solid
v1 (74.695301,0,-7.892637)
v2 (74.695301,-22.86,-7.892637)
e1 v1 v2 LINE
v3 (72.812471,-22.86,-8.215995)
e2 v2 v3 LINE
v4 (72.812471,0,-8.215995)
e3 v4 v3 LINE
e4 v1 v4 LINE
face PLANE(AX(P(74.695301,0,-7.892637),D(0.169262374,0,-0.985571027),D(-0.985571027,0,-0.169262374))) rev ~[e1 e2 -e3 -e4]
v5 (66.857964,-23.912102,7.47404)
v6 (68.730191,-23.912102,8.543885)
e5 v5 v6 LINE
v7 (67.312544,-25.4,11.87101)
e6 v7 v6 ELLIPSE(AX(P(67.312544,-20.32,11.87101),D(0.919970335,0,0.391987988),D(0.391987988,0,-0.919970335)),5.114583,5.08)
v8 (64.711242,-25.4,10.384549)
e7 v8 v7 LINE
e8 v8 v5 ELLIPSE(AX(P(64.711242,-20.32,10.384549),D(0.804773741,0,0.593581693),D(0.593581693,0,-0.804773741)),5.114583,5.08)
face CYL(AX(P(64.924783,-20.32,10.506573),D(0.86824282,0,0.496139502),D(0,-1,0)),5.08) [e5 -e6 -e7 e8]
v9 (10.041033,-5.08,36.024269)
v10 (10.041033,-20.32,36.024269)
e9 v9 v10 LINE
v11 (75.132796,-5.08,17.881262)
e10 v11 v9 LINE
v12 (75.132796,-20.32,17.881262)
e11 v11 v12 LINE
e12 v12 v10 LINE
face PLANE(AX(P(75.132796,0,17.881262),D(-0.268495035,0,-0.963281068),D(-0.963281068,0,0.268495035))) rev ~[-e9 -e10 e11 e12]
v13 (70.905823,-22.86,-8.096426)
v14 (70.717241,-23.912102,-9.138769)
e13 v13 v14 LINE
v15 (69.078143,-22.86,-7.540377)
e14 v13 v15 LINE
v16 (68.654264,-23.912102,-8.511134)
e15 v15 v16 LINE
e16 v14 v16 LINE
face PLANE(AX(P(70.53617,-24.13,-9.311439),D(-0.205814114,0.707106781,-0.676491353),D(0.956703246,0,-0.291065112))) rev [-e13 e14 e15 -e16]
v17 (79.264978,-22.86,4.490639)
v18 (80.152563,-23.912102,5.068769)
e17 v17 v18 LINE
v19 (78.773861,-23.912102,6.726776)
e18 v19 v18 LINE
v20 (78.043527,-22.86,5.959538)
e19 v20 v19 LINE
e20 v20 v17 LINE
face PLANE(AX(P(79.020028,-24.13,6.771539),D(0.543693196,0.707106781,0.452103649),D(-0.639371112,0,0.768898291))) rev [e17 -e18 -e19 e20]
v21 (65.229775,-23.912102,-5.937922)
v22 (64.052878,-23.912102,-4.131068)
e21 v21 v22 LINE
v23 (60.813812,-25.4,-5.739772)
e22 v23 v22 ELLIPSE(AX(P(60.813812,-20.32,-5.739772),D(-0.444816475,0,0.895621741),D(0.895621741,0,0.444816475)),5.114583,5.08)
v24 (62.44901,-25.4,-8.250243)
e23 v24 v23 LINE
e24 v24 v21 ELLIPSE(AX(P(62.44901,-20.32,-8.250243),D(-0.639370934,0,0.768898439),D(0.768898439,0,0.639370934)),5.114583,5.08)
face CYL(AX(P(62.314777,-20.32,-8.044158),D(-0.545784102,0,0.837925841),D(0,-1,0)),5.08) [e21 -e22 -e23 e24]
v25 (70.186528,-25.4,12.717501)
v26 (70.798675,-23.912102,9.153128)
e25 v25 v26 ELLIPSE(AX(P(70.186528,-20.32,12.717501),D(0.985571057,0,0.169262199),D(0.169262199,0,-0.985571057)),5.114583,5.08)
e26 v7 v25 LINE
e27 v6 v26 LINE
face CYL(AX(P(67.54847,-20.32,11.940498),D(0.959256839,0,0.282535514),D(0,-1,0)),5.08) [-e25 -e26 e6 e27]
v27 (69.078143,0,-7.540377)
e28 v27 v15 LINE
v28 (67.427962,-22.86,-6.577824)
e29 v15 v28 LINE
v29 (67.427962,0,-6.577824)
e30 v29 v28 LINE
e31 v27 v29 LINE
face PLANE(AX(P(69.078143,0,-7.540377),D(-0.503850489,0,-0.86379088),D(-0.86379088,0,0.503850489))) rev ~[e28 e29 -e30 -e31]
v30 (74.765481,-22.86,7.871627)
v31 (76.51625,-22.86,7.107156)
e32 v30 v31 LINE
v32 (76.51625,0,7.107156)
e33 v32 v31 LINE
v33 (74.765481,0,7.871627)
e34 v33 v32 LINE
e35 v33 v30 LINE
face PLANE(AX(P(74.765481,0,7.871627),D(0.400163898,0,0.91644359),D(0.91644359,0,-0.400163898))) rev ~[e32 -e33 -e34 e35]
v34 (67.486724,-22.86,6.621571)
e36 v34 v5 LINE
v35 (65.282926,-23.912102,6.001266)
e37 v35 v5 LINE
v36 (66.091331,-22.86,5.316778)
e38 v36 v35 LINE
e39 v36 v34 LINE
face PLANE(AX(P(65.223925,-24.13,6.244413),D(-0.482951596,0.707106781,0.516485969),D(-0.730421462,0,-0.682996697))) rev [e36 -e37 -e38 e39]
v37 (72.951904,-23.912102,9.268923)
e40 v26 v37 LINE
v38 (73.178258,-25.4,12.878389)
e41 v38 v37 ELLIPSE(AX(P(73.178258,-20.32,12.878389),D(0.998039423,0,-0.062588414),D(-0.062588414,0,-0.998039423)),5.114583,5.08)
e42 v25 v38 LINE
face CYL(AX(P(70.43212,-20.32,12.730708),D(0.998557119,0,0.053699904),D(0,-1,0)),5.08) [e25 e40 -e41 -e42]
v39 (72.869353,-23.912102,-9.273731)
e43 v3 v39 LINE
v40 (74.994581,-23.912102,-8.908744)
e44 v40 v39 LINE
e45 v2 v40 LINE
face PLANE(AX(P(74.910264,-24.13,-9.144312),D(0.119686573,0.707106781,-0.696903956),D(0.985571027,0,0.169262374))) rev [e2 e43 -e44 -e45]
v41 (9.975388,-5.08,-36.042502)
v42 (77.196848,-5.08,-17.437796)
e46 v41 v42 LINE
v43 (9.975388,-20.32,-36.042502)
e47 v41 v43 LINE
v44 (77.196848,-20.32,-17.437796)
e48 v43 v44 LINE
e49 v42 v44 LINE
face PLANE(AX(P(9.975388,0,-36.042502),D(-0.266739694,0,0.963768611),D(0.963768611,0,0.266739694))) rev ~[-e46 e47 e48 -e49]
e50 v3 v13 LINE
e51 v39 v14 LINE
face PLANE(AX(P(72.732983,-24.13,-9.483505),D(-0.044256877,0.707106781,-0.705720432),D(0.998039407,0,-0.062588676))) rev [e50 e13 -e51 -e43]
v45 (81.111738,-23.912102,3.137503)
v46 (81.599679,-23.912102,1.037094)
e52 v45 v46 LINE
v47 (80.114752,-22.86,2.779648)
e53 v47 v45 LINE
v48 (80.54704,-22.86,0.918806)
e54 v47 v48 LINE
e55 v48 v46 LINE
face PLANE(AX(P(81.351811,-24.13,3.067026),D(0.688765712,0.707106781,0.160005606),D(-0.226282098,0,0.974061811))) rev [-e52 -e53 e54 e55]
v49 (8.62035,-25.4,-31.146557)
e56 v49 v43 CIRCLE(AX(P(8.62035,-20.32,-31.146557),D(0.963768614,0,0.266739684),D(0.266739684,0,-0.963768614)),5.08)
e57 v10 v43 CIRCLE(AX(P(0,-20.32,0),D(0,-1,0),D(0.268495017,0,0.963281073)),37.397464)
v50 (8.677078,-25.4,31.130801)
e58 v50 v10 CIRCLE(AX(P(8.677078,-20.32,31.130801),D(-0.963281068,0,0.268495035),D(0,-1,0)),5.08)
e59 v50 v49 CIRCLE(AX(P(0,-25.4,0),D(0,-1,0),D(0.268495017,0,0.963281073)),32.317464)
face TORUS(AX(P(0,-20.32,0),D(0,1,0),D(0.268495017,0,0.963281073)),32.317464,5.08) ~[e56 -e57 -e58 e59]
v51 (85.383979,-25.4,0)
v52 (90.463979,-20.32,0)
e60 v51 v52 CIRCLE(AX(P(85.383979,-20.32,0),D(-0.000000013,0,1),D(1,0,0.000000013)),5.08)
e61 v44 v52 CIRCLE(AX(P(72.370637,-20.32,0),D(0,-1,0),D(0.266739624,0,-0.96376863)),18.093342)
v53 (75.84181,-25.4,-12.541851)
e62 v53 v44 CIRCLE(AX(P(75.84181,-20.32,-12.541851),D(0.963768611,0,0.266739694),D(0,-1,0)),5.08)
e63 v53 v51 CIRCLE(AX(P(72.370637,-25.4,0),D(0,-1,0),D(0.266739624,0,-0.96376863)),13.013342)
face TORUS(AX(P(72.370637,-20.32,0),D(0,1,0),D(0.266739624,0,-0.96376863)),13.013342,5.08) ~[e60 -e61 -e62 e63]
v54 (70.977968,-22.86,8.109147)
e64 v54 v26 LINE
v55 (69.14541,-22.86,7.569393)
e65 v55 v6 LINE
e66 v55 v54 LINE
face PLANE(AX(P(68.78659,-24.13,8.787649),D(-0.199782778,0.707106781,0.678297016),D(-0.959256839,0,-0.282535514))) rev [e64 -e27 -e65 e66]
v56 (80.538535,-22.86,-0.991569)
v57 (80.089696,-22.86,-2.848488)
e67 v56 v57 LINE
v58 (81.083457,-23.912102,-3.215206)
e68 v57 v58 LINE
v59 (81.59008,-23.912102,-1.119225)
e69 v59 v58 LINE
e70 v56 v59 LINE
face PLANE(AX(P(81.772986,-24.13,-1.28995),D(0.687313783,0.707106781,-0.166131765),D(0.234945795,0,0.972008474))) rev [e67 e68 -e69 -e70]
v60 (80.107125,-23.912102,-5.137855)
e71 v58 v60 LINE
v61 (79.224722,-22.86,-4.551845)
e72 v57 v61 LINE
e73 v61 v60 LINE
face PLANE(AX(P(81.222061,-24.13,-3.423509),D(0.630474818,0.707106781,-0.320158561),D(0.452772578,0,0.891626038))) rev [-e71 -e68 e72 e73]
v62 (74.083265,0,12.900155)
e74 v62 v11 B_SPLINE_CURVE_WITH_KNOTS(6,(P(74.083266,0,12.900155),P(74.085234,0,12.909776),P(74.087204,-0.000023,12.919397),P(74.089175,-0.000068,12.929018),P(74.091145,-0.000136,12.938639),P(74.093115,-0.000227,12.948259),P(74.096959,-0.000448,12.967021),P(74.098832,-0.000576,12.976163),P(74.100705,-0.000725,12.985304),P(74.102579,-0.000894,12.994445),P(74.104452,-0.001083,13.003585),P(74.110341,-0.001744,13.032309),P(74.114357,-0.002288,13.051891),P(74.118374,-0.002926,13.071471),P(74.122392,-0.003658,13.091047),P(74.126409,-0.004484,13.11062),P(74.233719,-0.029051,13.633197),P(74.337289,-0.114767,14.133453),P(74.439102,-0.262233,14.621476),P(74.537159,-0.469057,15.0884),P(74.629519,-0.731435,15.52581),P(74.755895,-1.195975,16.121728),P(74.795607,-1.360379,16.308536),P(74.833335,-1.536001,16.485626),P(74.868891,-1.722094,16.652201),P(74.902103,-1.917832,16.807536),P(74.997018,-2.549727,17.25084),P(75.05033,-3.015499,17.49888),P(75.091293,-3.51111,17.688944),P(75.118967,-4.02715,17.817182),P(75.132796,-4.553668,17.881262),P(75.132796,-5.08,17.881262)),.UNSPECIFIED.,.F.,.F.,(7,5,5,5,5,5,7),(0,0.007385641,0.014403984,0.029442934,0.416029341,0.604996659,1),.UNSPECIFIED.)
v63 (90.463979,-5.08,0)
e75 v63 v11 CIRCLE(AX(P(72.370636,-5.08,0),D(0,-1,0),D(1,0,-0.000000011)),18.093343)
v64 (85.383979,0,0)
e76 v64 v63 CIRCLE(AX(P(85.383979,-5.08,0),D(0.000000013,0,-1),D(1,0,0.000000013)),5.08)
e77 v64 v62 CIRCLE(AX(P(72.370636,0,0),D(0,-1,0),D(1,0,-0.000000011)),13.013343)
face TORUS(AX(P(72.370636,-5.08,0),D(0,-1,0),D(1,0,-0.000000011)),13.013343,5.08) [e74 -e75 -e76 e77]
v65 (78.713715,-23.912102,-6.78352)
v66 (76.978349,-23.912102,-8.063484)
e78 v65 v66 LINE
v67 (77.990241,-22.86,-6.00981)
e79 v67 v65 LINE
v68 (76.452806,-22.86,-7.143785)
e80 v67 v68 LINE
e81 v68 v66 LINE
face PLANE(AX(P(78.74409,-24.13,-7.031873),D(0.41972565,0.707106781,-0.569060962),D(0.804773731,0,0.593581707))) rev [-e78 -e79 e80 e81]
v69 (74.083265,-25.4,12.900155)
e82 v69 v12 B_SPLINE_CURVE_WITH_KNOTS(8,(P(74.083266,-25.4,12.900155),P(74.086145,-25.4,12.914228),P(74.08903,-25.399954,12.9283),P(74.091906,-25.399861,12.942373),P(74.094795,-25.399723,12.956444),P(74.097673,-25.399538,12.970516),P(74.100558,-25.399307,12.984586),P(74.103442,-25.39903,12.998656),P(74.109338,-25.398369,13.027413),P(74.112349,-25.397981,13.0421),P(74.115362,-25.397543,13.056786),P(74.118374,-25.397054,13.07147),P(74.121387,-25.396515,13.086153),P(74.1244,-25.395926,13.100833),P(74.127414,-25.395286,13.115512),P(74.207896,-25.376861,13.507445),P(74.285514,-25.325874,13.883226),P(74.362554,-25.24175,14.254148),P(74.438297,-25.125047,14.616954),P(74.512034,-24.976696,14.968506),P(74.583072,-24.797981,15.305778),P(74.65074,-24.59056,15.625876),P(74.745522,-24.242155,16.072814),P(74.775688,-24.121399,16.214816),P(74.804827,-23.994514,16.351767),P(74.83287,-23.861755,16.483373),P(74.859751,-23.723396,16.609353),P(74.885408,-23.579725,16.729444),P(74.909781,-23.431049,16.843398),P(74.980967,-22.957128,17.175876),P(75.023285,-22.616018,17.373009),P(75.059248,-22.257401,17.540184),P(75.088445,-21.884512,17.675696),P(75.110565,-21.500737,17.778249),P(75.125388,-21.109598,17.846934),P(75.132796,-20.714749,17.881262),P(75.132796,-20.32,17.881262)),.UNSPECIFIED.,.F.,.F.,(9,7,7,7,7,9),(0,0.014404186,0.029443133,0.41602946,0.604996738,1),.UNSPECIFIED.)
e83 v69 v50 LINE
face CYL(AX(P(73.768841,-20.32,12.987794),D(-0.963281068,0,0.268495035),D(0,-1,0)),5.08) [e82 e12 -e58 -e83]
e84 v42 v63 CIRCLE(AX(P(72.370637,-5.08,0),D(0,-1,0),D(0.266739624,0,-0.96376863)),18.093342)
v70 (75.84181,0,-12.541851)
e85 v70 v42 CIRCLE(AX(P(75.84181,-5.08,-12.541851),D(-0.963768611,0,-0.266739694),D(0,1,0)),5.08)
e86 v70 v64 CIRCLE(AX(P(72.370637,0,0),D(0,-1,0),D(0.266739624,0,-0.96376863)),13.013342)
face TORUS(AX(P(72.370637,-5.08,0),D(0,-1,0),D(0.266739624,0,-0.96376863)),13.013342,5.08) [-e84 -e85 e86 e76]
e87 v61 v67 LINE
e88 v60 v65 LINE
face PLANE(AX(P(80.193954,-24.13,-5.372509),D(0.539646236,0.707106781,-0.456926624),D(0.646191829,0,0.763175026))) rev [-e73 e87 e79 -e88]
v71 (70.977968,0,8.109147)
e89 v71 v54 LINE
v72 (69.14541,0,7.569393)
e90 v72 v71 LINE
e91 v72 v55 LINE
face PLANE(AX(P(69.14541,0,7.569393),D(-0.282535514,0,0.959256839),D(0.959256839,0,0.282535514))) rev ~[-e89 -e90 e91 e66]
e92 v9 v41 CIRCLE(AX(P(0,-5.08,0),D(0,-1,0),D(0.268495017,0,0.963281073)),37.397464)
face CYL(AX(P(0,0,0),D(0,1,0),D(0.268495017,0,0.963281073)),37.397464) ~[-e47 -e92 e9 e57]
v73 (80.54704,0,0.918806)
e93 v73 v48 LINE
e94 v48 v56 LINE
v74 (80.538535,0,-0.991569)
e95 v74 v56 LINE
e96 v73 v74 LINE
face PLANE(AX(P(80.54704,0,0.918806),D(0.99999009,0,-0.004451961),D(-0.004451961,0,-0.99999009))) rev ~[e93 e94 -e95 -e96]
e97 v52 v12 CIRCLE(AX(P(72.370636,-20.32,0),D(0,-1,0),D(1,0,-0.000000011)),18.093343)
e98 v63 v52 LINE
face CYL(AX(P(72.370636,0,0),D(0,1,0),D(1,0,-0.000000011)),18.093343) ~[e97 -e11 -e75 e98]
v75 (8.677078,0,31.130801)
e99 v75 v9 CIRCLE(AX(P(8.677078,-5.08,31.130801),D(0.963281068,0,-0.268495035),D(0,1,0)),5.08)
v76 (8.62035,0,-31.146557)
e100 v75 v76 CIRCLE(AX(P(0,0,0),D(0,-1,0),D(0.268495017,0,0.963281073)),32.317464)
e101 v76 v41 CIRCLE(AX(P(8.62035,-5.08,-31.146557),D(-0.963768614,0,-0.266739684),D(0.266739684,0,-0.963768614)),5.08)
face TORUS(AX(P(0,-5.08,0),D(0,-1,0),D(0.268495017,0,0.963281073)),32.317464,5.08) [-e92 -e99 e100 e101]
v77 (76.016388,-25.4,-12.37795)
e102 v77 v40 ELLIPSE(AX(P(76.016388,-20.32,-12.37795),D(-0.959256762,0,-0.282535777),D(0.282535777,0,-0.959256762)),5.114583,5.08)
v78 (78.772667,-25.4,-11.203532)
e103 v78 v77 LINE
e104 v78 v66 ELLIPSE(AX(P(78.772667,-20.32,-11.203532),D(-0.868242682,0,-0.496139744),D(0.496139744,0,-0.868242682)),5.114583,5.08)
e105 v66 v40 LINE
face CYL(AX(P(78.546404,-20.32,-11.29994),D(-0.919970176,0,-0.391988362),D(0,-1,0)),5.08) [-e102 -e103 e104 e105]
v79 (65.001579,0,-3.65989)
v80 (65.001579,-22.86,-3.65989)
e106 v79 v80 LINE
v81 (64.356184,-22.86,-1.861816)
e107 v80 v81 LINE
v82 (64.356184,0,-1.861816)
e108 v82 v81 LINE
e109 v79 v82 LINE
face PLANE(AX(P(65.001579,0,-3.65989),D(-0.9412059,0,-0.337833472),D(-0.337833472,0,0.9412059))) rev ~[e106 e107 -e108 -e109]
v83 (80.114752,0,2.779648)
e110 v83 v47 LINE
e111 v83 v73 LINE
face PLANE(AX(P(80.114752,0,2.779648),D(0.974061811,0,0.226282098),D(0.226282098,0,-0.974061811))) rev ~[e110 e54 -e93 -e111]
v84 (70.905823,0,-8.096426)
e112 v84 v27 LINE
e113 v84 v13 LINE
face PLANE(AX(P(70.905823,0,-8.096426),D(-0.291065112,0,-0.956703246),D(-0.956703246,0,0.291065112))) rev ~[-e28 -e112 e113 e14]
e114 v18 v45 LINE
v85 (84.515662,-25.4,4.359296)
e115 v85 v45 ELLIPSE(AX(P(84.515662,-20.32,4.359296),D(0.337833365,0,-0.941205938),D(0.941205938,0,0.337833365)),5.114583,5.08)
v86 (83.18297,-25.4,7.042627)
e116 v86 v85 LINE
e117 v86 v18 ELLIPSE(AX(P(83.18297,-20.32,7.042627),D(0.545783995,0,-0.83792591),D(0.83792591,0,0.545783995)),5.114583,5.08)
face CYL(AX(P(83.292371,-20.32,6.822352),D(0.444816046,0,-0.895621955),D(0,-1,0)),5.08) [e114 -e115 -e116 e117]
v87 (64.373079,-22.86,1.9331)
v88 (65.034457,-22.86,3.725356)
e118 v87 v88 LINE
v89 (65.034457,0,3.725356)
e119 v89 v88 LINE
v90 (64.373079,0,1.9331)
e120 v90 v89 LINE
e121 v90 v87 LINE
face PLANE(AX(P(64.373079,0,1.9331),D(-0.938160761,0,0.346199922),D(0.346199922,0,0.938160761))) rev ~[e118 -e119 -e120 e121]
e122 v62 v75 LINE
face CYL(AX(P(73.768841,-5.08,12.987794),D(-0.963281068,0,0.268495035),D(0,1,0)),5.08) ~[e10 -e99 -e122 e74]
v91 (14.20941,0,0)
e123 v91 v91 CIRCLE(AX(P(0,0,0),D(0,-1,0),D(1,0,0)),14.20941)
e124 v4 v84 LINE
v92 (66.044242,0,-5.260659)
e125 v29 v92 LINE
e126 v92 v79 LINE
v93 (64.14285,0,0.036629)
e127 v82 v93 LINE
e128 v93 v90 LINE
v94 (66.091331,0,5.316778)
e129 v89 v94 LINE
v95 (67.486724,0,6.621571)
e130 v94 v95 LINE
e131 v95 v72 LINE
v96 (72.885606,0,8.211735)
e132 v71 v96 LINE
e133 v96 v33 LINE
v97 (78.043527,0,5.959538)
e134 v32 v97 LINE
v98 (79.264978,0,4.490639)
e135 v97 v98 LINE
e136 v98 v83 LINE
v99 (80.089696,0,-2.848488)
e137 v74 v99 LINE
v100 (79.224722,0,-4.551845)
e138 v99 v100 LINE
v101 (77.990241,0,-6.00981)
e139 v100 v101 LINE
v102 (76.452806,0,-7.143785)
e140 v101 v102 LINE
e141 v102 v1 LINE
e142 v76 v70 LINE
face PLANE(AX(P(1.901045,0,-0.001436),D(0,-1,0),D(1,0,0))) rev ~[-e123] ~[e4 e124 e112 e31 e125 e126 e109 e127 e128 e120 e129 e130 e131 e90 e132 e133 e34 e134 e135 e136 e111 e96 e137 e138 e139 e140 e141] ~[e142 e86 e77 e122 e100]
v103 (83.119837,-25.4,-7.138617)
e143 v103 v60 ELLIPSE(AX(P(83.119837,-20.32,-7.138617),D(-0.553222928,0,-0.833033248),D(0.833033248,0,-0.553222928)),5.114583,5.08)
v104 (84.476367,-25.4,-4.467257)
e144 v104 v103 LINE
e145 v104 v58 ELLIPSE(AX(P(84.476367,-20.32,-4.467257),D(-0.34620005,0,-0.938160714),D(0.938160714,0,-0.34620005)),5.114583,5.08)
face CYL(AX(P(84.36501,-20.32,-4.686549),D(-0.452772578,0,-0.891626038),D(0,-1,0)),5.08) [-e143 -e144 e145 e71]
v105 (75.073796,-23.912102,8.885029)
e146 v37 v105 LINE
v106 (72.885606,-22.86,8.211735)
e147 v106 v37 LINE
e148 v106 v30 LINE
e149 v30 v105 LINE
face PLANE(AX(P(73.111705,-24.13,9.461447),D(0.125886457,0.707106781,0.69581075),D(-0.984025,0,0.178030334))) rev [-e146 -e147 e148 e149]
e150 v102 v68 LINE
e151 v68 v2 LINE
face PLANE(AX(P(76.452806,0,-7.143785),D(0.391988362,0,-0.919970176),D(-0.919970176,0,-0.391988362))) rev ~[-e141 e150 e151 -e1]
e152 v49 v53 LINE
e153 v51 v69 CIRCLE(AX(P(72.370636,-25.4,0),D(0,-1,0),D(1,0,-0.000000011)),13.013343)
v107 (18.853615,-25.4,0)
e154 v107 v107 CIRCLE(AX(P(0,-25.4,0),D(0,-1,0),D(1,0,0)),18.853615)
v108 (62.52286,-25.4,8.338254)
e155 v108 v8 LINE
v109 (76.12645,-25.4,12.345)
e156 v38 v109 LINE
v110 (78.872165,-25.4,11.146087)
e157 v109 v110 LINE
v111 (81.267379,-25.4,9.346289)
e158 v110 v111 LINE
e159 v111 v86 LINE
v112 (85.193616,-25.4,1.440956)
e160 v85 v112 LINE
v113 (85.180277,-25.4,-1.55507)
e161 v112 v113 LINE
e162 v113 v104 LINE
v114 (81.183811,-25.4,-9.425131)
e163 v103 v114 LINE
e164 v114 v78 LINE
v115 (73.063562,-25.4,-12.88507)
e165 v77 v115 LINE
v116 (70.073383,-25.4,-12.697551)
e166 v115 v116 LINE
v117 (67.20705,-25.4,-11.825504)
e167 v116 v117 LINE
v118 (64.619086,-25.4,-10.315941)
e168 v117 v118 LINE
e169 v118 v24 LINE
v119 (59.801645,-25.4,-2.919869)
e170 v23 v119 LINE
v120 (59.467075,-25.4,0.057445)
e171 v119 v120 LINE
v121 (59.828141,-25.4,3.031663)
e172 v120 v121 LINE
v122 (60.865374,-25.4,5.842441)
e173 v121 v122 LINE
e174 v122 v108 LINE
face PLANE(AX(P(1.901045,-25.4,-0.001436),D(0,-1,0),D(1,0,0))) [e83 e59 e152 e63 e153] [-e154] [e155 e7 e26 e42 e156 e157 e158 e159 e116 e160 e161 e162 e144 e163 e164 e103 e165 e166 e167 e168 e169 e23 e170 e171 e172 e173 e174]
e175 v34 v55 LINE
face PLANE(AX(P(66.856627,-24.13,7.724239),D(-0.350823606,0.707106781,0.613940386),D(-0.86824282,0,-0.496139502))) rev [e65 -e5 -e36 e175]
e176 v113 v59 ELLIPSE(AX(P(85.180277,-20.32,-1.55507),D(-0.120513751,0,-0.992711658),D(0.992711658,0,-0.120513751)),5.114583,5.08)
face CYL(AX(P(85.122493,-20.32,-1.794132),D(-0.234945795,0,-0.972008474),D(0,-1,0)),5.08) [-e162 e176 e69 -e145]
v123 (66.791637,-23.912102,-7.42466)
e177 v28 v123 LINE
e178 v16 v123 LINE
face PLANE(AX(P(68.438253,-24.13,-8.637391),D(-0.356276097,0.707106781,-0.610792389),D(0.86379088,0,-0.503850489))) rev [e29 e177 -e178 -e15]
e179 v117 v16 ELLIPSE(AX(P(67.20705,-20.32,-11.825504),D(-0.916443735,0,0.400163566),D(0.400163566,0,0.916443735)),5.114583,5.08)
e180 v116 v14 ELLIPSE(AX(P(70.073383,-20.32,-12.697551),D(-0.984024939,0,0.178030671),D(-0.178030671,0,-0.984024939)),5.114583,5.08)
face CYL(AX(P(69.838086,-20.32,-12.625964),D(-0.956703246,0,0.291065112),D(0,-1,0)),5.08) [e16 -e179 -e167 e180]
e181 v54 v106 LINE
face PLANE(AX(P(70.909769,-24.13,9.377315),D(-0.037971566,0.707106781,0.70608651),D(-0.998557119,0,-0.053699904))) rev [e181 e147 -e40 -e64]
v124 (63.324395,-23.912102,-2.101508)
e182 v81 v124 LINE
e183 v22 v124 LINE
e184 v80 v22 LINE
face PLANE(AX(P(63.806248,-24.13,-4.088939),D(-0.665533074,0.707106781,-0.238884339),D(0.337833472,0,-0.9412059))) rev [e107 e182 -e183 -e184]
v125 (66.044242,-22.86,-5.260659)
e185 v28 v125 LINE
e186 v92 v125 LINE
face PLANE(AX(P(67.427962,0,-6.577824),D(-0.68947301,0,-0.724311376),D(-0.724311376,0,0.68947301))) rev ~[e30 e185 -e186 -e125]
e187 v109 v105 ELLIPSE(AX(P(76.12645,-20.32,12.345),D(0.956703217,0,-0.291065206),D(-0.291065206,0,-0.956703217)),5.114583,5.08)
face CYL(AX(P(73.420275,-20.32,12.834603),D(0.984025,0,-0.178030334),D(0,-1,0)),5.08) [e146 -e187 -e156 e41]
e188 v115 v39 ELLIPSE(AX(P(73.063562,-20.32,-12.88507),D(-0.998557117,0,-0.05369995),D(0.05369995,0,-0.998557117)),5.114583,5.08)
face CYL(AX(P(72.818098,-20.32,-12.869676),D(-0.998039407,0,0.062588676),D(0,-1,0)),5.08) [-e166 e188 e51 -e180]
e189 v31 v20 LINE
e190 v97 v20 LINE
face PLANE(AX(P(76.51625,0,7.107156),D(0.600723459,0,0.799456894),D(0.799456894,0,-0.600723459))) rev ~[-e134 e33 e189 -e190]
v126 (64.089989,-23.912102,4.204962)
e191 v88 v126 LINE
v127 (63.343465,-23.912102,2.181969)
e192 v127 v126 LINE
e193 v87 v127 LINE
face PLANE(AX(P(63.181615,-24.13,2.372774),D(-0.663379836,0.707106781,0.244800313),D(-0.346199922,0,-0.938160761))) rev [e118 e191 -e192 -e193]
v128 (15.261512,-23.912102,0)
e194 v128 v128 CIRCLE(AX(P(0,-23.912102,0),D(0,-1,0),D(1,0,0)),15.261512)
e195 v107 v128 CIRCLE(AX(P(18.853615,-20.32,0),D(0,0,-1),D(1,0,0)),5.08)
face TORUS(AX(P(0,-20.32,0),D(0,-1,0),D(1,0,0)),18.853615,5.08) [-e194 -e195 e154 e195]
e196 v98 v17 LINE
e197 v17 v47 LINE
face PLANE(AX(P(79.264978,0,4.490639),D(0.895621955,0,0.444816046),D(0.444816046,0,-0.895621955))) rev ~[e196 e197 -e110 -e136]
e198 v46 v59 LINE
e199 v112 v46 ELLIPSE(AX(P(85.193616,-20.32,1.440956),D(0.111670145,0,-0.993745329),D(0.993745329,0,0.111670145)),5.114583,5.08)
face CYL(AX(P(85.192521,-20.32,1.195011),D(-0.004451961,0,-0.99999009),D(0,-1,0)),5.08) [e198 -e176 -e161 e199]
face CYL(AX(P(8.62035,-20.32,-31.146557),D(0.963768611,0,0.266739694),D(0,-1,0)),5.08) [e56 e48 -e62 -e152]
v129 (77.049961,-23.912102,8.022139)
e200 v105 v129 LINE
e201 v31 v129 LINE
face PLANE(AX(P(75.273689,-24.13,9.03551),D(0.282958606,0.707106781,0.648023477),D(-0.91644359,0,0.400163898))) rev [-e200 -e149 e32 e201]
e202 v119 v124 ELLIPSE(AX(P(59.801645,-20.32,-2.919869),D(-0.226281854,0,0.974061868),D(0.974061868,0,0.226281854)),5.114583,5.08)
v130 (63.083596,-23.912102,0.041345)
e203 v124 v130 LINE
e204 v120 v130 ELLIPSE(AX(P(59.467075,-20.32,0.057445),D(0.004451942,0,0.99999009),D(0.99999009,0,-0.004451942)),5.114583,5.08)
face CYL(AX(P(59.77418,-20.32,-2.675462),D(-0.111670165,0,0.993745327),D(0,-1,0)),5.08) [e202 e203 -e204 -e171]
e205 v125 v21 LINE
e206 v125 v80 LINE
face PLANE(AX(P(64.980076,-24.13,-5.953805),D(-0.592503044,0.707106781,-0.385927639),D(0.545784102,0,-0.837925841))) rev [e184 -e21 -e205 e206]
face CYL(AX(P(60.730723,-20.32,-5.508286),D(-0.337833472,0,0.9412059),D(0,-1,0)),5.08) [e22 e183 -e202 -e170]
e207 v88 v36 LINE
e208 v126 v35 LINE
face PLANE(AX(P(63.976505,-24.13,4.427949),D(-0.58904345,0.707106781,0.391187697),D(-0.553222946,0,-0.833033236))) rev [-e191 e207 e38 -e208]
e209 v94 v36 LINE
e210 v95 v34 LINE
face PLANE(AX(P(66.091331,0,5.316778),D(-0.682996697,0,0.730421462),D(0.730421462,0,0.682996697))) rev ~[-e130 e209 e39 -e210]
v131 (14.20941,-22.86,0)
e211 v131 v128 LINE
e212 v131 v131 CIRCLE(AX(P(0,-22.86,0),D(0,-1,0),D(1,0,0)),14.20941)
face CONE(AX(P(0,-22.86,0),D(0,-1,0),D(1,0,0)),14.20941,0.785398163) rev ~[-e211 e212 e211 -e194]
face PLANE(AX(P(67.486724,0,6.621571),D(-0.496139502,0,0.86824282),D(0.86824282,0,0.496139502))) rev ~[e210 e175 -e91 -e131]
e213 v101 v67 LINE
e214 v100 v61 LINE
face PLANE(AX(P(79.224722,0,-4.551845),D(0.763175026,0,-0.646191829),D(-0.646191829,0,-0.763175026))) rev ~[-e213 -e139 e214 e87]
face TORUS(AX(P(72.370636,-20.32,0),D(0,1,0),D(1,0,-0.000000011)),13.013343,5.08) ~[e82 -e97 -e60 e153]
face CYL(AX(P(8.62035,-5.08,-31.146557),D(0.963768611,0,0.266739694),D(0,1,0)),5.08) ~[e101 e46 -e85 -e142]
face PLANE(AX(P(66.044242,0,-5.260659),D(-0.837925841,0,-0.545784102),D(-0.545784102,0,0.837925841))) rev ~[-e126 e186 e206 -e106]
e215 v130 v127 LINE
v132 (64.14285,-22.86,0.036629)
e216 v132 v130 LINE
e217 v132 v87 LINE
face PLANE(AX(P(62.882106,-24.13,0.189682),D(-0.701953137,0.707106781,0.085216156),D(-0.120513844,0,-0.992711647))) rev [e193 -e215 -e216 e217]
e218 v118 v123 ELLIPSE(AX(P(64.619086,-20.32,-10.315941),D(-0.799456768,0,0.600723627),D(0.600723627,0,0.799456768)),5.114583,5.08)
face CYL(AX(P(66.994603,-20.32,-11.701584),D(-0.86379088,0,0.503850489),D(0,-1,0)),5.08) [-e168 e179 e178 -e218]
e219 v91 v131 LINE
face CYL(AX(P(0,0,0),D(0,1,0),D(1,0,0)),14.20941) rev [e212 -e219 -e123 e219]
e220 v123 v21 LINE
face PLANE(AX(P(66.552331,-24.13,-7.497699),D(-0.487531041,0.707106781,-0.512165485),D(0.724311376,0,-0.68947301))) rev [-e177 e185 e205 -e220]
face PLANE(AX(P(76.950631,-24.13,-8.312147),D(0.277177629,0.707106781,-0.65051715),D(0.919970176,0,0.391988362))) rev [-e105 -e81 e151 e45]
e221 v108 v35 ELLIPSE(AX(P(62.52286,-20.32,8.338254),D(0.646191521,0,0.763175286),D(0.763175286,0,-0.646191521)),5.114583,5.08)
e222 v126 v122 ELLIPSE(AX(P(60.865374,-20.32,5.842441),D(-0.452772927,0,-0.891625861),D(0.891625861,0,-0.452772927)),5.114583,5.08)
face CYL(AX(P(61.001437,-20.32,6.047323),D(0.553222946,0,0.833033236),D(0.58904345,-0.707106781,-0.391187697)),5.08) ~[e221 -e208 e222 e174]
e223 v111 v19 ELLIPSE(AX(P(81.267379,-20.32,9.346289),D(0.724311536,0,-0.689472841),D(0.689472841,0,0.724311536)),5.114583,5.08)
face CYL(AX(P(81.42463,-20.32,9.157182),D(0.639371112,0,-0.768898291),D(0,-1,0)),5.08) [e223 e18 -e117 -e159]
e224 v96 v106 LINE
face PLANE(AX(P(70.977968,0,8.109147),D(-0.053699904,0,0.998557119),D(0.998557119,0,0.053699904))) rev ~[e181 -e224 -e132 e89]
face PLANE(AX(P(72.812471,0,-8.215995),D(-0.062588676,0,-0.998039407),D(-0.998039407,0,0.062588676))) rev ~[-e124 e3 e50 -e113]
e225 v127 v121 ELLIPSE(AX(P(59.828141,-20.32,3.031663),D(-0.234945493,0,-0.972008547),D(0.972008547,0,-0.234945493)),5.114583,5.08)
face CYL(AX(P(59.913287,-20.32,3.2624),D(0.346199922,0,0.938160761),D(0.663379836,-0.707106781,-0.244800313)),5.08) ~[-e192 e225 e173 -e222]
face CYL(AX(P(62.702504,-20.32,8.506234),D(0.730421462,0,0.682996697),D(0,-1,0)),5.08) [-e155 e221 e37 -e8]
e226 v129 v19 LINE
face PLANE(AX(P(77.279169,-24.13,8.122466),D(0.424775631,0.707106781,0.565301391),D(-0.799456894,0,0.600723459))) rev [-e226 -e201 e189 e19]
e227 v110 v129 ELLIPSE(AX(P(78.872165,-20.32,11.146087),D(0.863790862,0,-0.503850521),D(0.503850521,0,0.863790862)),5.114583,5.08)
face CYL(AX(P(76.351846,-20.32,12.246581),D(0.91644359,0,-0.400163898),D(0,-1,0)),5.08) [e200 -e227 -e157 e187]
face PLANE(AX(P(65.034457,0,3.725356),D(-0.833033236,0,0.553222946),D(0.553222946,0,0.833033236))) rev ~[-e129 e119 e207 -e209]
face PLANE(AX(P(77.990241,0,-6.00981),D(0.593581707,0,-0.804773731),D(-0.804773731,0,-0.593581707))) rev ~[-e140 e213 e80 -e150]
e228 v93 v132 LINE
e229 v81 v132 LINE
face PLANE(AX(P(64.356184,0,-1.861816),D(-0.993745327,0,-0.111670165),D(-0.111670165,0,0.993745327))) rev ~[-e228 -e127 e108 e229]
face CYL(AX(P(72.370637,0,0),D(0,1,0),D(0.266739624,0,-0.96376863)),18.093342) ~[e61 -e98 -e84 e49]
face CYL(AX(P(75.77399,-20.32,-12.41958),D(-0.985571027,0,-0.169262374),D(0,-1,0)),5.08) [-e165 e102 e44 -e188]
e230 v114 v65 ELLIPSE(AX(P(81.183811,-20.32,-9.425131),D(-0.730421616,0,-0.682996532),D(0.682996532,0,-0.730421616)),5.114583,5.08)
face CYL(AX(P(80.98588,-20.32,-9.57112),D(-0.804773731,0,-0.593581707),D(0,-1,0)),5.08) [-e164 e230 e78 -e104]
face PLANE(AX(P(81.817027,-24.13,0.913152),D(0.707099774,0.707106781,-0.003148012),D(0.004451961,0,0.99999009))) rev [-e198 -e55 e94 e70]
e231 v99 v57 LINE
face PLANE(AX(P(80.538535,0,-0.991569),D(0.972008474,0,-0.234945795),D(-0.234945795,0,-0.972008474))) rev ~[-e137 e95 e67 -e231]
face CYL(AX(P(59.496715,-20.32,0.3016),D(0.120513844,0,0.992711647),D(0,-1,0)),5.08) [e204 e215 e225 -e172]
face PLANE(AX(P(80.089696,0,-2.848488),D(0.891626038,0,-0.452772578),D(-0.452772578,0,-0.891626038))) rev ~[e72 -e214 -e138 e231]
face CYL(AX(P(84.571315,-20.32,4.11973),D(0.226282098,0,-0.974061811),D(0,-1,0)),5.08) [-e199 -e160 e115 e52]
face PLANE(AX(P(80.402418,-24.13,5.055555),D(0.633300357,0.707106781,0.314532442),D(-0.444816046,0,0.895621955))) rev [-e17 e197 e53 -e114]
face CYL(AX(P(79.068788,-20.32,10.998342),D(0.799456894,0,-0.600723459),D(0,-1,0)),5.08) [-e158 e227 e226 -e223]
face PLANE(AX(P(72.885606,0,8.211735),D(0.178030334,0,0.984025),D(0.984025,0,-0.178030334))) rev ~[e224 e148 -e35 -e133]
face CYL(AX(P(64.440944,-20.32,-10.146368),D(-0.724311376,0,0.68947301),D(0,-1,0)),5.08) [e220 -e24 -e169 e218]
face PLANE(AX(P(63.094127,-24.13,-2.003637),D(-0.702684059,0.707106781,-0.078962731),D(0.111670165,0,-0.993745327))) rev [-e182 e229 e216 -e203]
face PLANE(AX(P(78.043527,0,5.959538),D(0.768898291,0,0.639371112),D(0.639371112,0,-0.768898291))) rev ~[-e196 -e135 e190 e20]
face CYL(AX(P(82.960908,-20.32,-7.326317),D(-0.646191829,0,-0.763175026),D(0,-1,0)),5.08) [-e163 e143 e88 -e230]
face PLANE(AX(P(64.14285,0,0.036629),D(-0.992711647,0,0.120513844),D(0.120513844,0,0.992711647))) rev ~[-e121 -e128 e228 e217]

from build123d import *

# Parameters (mm, degrees)
F0_R     = 14.20941
F1_DEPTH = 25.4
F2_SIZE  = 2.54
F3_R     = 5.08


with BuildPart() as f1:
    # F0 (on Front) → F1 (new body)
    with BuildSketch(Plane.XZ):
        with BuildLine():
            ThreePointArc((9.975388, -36.042502), (29.762598, -22.644161), (37.397464, 0))
            ThreePointArc((37.397464, 0), (29.783212, 22.617041), (10.041033, 36.024269))
            ThreePointArc((10.041033, 36.024269), (-37.397448, 0.034065), (9.975388, -36.042502))
        make_face()
        Circle(F0_R, mode=Mode.SUBTRACT)
        with BuildLine():
            ThreePointArc((10.041033, 36.024269), (29.783212, 22.617041), (37.397464, 0))
            ThreePointArc((37.397464, 0), (29.762598, -22.644161), (9.975388, -36.042502))
            Line((9.975388, -36.042502), (77.196848, -17.437796))
            ThreePointArc((77.196848, -17.437796), (54.30811, -1.055577), (75.132796, 17.881262))
            Line((75.132796, 17.881262), (10.041033, 36.024269))
        make_face()
        with BuildLine():
            ThreePointArc((90.463979, 0), (86.106461, 11.776934), (75.132796, 17.881262))
            ThreePointArc((75.132796, 17.881262), (54.30811, -1.055577), (77.196848, -17.437796))
            ThreePointArc((77.196848, -17.437796), (86.770139, -10.955518), (90.463979, 0))
        make_face()
        Polygon((66.091331, 5.316778), (67.486724, 6.621571), (69.14541, 7.569393), (70.977968, 8.109147), (72.885606, 8.211735), (74.765481, 7.871627), (76.51625, 7.107156), (78.043527, 5.959538), (79.264978, 4.490639), (80.114752, 2.779648), (80.54704, 0.918806), (80.538535, -0.991569), (80.089696, -2.848488), (79.224722, -4.551845), (77.990241, -6.00981), (76.452806, -7.143785), (74.695301, -7.892637), (72.812471, -8.215995), (70.905823, -8.096426), (69.078143, -7.540377), (67.427962, -6.577824), (66.044242, -5.260659), (65.001579, -3.65989), (64.356184, -1.861816), (64.14285, 0.036629), (64.373079, 1.9331), (65.034457, 3.725356), align=None, mode=Mode.SUBTRACT)
    extrude(amount=F1_DEPTH)

    # F2
    f2_edges = [f1.edges().sort_by_distance(p)[0] for p in [
        (-14.20941, -25.4, 0),
        (75.640865, -25.4, 7.489391),
        (78.607481, -25.4, -5.280828),
        (65.52291, -25.4, -4.460275),
        (77.279888, -25.4, 6.533347),
        (77.221524, -25.4, -6.576798),
        (64.678881, -25.4, -2.760853),
        (78.654252, -25.4, 5.225088),
        (75.574053, -25.4, -7.518211),
        (64.249517, -25.4, -0.912594),
        (79.689865, -25.4, 3.635143),
        (73.753886, -25.4, -8.054316),
        (64.257964, -25.4, 0.984864),
        (68.316067, -25.4, 7.095482),
        (80.330896, -25.4, 1.849227),
        (71.859147, -25.4, -8.15621),
        (64.703768, -25.4, 2.829228),
        (70.061689, -25.4, 7.83927),
        (80.542787, -25.4, -0.036381),
        (69.991983, -25.4, -7.818401),
        (65.562894, -25.4, 4.521067),
        (71.931787, -25.4, 8.160441),
        (80.314116, -25.4, -1.920029),
        (68.253052, -25.4, -7.0591),
        (66.789027, -25.4, 5.969174),
        (73.825543, -25.4, 8.041681),
        (66.736102, -25.4, -5.919241),
        (79.657209, -25.4, -3.700167),
    ]]
    chamfer(f2_edges, length=F2_SIZE)

    # F3
    f3_edges = [f1.edges().sort_by_distance(p)[0] for p in [
        (-16.74941, -25.4, 0),
        (-37.397448, -25.4, 0.034065),
        (43.586118, -25.4, -26.740149),
        (90.433161, -25.4, 1.055577),
        (42.586915, -25.4, 26.952766),
        (76.657281, -25.4, 9.817159),
        (74.277741, -25.4, 10.541104),
        (78.805726, -25.4, 8.563967),
        (71.795389, -25.4, 10.696776),
        (80.607254, -25.4, 6.84909),
        (69.344048, -25.4, 10.275782),
        (81.964744, -25.4, 4.764977),
        (67.055872, -25.4, 9.300818),
        (82.805013, -25.4, 2.423983),
        (65.054216, -25.4, 7.824445),
        (83.082762, -25.4, -0.047689),
        (63.44699, -25.4, 5.926253),
        (82.783017, -25.4, -2.51679),
        (62.32084, -25.4, 3.708576),
        (81.921939, -25.4, -4.85021),
        (61.736477, -25.4, 1.290969),
        (80.545947, -25.4, -6.922154),
        (61.725404, -25.4, -1.196235),
        (78.729221, -25.4, -8.620923),
        (62.288218, -25.4, -3.61895),
        (76.569703, -25.4, -9.854936),
        (63.394579, -25.4, -5.846566),
        (74.183812, -25.4, -10.557666),
        (64.98484, -25.4, -7.758992),
        (71.700172, -25.4, -10.691231),
        (66.973272, -25.4, -9.253129),
        (69.252677, -25.4, -10.248428),
        (43.586118, 0, -26.740149),
    ]]
    fillet(f3_edges, radius=F3_R)


solid = f1.part
